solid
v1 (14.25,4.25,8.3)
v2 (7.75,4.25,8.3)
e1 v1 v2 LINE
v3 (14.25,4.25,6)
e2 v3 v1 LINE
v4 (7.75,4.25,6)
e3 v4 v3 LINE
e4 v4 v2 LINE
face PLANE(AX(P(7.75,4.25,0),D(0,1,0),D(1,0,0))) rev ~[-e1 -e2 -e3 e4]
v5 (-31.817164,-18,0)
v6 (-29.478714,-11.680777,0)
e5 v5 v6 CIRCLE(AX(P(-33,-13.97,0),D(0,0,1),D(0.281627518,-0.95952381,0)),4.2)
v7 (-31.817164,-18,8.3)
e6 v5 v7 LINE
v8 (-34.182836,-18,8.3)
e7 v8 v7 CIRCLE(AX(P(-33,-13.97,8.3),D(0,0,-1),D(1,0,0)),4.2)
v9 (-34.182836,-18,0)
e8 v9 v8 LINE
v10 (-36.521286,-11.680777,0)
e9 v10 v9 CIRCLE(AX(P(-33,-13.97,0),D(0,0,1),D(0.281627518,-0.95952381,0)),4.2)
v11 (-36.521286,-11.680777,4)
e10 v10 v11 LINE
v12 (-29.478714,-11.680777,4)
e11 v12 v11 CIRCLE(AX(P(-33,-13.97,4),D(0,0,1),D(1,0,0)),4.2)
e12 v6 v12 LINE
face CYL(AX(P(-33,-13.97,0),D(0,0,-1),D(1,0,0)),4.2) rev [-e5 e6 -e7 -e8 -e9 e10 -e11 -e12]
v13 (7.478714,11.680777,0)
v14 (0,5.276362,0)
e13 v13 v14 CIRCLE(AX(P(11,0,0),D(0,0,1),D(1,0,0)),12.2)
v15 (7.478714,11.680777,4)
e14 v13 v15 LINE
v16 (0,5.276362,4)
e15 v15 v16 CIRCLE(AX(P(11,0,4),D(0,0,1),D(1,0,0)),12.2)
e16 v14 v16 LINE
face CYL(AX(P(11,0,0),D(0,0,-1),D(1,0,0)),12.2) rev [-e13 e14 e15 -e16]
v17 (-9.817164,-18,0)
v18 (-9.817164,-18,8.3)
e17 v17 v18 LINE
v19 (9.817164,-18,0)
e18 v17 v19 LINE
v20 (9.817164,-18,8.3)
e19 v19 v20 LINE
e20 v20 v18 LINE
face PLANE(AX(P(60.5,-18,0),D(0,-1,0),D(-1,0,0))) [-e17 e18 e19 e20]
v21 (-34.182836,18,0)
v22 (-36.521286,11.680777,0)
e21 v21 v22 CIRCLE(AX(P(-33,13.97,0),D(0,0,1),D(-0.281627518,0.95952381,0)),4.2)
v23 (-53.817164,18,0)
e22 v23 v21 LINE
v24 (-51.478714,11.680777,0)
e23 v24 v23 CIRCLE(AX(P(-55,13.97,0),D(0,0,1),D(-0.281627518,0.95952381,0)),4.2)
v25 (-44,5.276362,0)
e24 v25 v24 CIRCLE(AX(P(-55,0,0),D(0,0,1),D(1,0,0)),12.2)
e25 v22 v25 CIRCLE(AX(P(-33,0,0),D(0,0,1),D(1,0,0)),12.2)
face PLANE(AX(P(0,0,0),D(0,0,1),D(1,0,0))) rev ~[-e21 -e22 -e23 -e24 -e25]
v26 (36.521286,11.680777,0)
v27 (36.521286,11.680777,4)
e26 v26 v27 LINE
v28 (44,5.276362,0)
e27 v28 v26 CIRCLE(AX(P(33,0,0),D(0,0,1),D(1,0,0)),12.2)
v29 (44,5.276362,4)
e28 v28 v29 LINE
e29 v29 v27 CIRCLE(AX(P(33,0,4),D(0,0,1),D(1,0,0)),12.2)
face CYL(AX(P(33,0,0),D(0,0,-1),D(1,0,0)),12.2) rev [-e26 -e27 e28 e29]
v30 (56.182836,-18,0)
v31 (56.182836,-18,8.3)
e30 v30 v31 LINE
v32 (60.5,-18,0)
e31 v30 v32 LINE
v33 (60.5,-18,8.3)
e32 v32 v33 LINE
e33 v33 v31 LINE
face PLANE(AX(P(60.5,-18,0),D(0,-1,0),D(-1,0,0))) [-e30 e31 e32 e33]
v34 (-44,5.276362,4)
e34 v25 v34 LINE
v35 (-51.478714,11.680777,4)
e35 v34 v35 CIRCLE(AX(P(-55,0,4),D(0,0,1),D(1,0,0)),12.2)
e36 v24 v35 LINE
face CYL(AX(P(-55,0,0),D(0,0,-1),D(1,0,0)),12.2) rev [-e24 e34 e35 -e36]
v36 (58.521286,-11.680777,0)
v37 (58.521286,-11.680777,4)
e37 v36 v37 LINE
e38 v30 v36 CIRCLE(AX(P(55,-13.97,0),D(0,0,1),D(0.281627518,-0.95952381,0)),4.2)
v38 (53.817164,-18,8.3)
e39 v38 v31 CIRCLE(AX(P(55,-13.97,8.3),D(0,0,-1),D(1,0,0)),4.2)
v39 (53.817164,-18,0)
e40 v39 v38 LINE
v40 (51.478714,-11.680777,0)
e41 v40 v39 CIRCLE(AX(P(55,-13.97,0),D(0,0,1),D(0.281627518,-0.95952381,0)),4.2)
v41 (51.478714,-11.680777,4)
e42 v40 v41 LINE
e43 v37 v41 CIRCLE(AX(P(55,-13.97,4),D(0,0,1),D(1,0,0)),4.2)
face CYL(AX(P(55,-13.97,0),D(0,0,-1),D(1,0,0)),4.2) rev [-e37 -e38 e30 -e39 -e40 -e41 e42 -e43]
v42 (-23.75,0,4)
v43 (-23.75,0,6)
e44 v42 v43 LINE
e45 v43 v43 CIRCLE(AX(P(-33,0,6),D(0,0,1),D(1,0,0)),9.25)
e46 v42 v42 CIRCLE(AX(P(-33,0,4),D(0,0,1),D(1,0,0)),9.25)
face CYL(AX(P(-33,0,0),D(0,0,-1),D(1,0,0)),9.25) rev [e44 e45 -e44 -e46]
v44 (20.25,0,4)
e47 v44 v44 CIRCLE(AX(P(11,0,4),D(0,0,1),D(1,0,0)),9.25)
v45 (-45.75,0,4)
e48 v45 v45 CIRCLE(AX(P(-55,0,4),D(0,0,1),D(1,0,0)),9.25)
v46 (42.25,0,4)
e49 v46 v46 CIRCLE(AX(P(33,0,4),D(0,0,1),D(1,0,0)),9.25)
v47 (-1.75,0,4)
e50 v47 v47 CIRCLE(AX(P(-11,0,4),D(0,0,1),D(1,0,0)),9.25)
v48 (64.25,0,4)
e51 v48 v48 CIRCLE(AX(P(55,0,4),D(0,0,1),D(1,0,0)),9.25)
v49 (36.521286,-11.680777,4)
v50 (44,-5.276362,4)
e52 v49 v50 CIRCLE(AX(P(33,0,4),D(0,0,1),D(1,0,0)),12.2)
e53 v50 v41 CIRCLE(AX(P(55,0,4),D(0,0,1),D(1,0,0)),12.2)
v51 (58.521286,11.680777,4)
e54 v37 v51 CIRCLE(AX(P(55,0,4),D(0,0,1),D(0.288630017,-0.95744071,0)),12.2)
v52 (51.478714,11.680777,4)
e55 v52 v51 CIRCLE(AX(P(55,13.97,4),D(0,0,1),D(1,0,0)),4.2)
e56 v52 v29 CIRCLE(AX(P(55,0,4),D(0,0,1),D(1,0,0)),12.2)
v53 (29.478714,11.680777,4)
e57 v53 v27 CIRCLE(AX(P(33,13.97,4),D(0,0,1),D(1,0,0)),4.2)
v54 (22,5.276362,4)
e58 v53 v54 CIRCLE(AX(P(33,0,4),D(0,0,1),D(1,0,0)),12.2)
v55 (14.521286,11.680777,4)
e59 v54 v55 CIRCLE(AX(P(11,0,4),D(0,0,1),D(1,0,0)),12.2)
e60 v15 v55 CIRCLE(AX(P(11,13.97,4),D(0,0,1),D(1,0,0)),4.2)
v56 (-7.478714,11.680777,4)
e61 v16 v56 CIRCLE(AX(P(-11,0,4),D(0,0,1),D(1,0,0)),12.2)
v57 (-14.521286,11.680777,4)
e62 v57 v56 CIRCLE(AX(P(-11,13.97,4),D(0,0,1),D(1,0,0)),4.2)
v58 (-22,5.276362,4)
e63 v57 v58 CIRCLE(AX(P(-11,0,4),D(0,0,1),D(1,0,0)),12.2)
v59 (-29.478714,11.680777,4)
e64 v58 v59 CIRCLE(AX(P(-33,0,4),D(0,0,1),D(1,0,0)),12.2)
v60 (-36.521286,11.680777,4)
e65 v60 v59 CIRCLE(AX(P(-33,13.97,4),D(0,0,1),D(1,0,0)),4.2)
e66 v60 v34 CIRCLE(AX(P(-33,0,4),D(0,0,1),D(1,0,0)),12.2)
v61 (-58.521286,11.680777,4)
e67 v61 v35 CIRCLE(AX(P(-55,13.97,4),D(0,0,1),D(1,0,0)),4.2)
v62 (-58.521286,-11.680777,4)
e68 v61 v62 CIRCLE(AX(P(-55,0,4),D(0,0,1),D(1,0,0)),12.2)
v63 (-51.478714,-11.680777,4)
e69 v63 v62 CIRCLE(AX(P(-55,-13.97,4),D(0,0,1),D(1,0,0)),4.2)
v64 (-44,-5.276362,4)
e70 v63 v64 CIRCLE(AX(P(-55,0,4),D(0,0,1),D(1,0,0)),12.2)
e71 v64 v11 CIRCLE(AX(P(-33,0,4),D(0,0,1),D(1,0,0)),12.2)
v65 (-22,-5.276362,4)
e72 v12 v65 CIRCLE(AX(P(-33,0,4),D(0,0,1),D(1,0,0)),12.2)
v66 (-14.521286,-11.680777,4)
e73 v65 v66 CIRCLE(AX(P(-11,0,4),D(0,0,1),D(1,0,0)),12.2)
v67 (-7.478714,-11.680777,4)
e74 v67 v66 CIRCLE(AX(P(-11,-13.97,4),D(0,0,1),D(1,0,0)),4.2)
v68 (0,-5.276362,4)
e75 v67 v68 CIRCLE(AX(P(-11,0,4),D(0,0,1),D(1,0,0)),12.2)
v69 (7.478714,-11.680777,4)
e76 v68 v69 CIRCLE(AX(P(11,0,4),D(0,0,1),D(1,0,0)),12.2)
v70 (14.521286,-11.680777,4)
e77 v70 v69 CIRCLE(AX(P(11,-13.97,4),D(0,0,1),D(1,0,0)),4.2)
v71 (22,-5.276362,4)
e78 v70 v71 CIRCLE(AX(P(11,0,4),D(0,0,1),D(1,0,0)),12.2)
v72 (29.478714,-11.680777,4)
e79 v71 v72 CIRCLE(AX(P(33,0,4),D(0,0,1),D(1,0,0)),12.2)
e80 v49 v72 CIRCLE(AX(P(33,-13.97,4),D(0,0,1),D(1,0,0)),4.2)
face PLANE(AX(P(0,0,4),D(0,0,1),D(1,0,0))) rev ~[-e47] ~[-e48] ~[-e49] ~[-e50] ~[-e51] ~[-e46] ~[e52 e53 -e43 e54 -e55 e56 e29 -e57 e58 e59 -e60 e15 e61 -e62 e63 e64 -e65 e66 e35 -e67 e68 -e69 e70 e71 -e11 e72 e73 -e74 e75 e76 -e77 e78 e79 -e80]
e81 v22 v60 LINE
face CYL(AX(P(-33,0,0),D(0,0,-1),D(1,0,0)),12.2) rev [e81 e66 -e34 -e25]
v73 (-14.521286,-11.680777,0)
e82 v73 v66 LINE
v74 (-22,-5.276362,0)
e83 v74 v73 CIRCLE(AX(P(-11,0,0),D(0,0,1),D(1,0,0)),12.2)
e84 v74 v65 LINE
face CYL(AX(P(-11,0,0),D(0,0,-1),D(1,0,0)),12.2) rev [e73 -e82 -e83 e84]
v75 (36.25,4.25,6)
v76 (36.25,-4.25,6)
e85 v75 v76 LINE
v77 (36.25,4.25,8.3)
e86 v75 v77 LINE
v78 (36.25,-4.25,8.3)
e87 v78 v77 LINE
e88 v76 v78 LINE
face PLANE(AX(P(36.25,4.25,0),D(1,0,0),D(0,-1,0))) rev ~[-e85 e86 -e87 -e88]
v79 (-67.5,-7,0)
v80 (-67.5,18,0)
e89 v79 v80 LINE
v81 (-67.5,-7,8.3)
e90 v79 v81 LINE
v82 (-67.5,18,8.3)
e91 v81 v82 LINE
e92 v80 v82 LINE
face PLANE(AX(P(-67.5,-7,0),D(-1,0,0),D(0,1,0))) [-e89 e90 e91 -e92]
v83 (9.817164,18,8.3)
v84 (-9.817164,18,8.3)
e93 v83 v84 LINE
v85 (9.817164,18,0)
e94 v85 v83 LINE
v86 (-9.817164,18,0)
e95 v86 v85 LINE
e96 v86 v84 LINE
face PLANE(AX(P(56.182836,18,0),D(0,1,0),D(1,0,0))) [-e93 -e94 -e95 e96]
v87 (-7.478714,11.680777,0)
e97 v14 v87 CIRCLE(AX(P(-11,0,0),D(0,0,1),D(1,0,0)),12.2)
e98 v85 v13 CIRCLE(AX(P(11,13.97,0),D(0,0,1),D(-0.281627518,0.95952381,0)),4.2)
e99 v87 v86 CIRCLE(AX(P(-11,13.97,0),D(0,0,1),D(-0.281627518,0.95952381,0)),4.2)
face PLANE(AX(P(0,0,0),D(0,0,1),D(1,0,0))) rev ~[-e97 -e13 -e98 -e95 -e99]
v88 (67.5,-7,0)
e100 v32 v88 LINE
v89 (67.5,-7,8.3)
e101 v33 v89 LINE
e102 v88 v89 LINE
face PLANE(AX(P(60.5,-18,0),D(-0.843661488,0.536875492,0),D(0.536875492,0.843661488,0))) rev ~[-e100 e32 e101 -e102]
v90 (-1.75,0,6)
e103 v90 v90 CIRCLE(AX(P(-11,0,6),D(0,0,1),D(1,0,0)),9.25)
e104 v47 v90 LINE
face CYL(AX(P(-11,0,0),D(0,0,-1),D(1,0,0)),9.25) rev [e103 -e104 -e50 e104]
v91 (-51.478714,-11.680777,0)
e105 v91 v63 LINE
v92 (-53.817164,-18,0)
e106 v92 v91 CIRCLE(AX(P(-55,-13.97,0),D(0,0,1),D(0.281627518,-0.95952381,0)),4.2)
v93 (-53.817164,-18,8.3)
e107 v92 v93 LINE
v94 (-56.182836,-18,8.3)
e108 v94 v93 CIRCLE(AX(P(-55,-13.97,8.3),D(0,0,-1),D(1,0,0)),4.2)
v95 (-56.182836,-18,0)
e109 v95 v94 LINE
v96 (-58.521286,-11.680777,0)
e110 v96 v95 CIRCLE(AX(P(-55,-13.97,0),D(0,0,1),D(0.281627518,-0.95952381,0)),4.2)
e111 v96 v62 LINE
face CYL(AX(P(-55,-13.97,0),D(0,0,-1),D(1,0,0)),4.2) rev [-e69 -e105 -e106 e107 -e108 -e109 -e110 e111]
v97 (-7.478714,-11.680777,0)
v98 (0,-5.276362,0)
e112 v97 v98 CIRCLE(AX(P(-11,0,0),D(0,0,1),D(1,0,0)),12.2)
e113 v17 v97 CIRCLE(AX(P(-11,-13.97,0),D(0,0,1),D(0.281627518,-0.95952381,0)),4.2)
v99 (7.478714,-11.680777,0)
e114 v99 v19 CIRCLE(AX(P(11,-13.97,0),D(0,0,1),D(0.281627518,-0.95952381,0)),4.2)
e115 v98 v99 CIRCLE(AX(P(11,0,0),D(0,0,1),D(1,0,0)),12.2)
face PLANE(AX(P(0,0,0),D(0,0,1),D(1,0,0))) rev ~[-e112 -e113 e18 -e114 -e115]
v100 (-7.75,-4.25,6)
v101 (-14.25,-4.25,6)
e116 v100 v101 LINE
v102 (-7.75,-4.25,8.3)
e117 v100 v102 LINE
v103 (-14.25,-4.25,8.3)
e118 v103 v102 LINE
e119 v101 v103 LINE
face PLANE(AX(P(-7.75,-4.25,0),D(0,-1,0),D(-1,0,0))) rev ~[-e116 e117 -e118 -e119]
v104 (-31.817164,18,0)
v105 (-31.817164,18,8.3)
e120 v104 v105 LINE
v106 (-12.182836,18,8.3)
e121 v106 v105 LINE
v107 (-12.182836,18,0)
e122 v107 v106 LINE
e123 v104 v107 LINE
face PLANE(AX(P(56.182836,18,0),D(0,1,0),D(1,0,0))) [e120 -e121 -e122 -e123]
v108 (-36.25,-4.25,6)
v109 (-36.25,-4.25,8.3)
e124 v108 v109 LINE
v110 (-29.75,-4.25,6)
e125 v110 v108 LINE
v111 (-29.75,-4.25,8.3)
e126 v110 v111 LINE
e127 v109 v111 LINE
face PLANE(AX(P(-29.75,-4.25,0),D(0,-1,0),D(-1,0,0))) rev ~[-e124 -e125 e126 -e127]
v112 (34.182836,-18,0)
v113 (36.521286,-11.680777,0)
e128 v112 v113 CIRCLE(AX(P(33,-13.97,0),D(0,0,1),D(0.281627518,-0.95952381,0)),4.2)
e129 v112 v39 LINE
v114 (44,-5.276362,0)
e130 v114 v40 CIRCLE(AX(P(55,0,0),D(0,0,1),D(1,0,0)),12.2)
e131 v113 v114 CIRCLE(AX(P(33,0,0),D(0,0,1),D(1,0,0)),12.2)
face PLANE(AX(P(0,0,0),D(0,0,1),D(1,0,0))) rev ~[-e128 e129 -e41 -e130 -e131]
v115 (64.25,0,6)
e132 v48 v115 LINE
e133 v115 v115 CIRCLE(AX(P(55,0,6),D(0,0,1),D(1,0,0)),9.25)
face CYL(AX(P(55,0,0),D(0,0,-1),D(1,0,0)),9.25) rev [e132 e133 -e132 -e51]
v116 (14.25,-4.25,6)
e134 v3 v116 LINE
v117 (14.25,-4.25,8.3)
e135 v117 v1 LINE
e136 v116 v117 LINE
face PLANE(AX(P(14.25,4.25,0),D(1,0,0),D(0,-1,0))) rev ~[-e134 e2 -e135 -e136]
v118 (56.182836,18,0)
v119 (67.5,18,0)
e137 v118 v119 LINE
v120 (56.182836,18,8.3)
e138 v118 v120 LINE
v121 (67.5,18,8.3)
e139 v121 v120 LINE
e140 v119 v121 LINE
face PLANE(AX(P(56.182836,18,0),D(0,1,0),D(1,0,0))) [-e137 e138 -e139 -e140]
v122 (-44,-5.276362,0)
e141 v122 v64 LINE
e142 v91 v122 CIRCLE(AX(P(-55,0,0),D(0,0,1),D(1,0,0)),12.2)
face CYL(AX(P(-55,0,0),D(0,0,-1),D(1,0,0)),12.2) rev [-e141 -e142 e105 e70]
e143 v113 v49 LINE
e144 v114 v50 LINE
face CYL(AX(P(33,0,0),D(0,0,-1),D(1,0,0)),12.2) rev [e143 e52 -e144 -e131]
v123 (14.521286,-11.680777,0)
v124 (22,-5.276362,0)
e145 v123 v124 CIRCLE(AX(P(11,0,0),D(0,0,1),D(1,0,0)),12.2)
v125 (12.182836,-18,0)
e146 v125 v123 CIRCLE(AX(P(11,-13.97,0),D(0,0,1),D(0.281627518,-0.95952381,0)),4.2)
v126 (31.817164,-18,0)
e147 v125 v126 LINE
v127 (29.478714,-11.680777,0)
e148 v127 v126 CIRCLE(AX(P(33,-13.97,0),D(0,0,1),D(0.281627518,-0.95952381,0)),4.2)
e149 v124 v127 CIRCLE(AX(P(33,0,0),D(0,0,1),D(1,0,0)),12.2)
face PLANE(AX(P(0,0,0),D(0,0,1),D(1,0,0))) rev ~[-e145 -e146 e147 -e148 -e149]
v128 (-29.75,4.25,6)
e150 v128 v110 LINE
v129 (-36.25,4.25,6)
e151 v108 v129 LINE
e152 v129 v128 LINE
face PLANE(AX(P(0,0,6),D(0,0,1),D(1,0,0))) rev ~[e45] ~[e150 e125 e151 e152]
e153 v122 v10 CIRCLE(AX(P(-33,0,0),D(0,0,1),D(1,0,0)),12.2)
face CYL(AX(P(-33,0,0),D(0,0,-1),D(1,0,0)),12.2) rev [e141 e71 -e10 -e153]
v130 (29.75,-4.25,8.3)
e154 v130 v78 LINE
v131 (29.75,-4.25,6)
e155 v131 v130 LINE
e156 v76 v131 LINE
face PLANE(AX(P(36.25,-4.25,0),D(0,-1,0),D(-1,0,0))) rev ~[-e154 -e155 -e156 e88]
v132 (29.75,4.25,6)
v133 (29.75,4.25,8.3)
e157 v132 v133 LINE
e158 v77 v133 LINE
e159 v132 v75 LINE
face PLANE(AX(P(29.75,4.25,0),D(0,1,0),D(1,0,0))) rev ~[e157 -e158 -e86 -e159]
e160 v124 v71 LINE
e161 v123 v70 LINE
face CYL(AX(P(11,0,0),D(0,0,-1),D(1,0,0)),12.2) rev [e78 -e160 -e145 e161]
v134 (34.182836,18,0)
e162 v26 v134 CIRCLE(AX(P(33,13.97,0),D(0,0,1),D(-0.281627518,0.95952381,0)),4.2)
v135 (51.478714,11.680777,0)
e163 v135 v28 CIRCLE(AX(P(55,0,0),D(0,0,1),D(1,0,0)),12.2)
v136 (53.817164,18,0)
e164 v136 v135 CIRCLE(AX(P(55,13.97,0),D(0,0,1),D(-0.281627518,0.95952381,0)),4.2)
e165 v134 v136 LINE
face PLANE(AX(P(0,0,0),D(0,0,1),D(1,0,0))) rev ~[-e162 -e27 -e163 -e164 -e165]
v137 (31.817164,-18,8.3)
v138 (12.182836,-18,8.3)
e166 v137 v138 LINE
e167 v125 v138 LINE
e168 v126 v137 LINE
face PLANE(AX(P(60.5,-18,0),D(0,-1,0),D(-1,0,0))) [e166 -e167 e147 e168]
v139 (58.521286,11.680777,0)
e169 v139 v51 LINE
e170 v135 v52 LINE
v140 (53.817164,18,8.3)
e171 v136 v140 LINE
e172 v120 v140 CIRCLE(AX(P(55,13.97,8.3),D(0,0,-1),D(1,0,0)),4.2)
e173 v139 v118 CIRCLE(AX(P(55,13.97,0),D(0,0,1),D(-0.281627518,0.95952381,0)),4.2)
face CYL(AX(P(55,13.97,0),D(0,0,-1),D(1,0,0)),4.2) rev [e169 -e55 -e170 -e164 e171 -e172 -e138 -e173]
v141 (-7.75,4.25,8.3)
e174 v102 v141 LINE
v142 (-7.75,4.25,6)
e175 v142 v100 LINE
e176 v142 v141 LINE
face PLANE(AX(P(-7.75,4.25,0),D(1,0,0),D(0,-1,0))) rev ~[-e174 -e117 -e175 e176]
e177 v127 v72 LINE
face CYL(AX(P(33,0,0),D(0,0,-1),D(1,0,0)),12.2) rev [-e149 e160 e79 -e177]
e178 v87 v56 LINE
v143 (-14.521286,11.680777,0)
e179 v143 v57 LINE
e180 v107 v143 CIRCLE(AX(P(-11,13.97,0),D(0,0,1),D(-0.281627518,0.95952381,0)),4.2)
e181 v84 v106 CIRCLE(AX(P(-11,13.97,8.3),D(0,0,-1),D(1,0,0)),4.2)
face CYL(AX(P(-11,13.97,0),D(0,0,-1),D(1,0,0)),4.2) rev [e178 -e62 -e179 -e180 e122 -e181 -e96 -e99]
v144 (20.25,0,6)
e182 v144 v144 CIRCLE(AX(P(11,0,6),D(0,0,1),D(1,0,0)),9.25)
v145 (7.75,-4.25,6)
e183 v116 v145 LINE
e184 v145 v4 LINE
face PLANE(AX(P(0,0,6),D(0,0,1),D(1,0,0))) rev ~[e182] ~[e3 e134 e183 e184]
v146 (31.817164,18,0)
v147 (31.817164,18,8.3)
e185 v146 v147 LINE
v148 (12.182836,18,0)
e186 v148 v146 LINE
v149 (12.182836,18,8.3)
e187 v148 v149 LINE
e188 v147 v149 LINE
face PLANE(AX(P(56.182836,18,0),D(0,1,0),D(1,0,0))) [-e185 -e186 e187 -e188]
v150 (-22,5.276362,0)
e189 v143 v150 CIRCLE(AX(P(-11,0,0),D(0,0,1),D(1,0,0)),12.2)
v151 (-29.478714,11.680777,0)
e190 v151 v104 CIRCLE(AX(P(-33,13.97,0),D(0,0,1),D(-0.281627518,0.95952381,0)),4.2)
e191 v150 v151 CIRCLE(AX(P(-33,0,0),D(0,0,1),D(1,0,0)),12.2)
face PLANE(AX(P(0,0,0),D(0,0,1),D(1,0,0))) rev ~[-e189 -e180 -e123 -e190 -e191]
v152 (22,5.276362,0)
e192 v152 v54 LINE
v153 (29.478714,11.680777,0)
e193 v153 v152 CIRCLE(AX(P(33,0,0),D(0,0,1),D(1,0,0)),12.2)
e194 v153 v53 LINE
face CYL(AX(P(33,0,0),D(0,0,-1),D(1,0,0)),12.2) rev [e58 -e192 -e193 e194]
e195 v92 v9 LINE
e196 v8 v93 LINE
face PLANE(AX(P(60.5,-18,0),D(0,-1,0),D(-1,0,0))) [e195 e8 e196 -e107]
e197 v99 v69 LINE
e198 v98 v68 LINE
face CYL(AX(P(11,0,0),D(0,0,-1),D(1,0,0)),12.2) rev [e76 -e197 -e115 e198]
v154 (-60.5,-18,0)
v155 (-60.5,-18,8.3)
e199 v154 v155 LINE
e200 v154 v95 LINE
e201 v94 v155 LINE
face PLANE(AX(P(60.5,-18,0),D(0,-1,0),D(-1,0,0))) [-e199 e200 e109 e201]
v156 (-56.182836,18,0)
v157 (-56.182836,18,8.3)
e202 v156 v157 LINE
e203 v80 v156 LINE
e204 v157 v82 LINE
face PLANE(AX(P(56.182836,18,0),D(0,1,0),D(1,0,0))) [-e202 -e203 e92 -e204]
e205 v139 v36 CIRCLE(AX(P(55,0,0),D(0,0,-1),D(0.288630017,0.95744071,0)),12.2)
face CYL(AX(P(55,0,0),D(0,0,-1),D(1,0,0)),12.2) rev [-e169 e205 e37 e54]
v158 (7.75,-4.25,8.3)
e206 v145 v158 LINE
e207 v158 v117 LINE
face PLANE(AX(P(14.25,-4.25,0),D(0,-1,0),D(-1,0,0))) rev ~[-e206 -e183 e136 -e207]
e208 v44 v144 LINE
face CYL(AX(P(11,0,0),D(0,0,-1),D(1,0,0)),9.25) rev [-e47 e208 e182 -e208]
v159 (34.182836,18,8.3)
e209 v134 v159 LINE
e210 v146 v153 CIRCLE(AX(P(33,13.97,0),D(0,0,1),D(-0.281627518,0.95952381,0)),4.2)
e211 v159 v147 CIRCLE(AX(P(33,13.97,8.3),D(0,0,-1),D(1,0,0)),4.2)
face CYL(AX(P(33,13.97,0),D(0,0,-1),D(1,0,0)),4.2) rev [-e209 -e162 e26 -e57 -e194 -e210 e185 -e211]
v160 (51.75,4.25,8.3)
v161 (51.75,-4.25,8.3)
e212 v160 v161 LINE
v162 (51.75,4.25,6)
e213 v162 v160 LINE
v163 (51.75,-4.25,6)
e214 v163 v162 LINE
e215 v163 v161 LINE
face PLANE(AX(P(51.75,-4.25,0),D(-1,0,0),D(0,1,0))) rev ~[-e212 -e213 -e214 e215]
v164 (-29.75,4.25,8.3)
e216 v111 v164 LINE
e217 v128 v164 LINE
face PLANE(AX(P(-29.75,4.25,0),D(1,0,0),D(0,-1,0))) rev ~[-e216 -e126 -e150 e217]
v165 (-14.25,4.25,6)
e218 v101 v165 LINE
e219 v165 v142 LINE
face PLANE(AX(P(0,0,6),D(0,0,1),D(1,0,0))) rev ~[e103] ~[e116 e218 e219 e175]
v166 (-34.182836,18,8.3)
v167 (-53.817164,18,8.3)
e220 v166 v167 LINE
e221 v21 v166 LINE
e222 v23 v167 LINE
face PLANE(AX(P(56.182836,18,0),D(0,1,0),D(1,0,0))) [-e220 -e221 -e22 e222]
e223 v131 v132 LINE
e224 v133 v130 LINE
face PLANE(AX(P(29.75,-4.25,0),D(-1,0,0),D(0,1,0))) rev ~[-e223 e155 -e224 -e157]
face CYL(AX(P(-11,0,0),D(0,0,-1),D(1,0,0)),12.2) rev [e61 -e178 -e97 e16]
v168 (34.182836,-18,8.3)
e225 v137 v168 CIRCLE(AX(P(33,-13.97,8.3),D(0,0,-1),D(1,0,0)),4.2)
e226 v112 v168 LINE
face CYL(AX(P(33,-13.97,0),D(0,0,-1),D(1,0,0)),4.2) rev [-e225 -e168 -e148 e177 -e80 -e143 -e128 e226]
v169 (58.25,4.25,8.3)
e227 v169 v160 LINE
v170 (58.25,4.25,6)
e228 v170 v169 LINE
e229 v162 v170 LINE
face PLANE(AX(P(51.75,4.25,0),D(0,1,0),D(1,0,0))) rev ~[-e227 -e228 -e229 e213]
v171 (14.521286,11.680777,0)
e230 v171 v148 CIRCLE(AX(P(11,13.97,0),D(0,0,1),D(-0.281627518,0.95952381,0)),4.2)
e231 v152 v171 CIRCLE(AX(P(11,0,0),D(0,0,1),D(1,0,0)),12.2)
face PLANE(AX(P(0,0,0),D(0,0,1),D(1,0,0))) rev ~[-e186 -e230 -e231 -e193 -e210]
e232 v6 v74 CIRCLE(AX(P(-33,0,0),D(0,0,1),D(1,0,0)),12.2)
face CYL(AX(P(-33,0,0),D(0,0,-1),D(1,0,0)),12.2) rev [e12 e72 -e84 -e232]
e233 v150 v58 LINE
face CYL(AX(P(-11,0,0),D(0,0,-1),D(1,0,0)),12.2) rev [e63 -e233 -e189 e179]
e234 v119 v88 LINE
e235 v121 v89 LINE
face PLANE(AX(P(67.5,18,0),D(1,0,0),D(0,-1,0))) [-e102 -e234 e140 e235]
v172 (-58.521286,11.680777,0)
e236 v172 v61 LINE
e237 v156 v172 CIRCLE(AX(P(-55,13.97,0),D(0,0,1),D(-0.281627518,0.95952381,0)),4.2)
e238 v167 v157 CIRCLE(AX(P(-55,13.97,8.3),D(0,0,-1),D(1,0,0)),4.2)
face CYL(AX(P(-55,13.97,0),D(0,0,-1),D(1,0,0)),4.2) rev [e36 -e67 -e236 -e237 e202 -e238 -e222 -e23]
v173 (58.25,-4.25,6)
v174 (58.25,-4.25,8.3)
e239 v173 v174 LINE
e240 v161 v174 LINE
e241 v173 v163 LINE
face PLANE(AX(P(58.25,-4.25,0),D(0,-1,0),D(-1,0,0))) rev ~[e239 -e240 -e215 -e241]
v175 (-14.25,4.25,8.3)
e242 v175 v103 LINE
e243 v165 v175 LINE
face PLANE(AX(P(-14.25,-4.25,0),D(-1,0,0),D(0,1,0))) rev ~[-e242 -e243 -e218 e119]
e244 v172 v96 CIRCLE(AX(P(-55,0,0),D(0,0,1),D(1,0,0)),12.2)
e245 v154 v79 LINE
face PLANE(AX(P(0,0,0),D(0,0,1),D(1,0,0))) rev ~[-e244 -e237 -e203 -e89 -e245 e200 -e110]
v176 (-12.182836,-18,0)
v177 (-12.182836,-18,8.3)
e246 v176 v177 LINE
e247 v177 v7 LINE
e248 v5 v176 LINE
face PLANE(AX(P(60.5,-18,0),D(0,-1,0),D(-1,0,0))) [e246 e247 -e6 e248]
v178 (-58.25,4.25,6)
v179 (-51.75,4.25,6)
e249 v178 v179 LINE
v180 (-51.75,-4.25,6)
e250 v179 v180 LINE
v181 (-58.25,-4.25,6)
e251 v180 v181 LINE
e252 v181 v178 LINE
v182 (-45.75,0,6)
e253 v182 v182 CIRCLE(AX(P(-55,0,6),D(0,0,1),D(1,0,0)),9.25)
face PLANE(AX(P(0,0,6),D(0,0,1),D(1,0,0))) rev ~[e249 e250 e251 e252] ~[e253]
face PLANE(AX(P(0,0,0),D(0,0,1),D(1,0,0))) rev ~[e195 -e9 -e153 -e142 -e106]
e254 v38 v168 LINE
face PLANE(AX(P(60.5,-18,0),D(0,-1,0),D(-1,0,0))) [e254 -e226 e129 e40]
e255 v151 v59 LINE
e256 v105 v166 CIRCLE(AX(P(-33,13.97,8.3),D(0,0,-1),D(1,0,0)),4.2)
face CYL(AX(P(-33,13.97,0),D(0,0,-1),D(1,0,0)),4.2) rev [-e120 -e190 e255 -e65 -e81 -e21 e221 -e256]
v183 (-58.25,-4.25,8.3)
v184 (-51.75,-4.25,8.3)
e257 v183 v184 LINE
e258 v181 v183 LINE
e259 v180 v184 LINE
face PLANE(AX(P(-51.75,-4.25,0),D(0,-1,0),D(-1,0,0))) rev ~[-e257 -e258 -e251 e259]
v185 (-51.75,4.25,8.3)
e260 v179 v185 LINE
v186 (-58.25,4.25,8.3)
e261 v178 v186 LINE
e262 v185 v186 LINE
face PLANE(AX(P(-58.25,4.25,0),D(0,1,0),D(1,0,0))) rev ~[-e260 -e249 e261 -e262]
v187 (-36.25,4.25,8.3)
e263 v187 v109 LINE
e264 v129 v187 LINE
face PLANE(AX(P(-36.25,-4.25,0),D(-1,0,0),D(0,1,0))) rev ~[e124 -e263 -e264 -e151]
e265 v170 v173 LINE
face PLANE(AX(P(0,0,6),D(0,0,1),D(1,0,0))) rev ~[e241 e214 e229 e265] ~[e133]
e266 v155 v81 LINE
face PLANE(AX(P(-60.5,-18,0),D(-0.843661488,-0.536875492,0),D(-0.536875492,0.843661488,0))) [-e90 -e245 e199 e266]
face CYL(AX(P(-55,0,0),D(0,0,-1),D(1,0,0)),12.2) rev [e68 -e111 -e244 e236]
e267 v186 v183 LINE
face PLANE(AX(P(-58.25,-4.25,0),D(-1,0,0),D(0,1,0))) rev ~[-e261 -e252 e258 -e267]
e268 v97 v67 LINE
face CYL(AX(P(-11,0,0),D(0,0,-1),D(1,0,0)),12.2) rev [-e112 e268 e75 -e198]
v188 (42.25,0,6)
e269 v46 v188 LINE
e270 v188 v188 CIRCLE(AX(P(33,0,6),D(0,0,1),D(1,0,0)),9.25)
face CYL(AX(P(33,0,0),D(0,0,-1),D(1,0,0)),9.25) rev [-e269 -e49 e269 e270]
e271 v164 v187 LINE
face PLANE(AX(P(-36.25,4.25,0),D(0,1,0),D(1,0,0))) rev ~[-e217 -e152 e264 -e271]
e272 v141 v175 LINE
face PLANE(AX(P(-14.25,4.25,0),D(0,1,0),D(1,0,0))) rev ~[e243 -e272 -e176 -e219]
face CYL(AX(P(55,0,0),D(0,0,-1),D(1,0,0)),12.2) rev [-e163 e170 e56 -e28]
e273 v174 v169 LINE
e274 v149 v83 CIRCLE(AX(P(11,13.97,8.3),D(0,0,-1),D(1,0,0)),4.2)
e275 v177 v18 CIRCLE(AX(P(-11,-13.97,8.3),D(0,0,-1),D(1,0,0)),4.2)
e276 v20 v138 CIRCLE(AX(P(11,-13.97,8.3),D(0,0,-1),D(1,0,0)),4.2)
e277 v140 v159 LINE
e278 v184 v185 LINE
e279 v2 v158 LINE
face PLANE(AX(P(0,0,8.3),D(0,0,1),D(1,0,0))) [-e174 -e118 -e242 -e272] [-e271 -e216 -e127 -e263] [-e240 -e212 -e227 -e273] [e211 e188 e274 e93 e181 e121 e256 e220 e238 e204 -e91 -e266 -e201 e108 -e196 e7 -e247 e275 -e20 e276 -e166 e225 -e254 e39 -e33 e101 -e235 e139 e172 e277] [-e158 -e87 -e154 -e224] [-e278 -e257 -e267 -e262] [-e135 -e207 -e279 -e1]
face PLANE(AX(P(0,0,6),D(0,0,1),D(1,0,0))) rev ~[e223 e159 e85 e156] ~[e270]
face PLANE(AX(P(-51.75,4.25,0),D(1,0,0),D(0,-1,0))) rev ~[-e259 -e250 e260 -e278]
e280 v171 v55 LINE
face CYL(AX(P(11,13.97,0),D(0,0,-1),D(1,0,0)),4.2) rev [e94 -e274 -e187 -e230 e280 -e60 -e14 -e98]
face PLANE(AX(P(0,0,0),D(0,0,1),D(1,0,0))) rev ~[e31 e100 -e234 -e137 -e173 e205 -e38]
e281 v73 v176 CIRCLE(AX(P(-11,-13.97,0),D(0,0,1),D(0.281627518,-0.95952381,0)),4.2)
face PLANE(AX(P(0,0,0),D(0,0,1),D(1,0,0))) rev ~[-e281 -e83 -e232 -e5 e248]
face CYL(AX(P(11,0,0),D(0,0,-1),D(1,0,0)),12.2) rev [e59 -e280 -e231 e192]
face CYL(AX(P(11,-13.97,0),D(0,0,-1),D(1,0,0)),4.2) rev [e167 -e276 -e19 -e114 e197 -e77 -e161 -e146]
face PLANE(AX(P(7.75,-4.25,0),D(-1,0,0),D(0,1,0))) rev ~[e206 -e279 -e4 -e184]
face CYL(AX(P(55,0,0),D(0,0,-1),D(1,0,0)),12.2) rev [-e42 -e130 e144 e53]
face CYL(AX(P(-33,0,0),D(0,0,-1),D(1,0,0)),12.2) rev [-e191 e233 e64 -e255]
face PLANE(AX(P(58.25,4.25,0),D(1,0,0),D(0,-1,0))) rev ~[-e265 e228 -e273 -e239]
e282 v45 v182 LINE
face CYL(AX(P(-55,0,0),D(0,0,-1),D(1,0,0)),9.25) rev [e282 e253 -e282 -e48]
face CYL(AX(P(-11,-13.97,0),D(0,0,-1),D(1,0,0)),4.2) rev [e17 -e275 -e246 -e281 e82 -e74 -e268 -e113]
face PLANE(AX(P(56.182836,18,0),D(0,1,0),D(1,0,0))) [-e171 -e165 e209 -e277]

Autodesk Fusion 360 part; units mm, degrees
sketch "Skizze1" plane through (0, 0, 0) normal (0, 0, 1) x (1, 0, 0)
  line L0 (67.5, -18) -> (-67.5, -18)
  line L1 (-67.5, -18) -> (-67.5, 18)
  line L2 (-67.5, 18) -> (67.5, 18)
  line L3 (67.5, 18) -> (67.5, -18)
  line L4 (67.5, -18) -> (-67.5, 18) construction
  line L5 (-67.5, -18) -> (67.5, 18) construction
  line L6 (-73.8697, 0) -> (79.3057, 0) construction
  line L7 (-75.373, 13.97) -> (76.9673, 13.97) construction
  line L8 (-75.54, -13.97) -> (74.2946, -13.97) construction
  line L9 (-11, 24.3178) -> (-11, -28.2997) construction
  line L10 (-33, 24.986) -> (-33, -31.4735) construction
  line L11 (-55, 24.4848) -> (-55, -28.1327) construction
  line L12 (11, 24.8189) -> (11, -31.4735) construction
  line L13 (33, 24.6519) -> (33, -30) construction
  line L14 (55, 24.8189) -> (55, -30) construction
  circle A0 centre (-55, 0) radius 12.2
  circle A1 centre (-33, 0) radius 12.2
  circle A2 centre (-11, 0) radius 12.2
  circle A3 centre (11, 0) radius 12.2
  circle A4 centre (33, 0) radius 12.2
  circle A5 centre (55, 0) radius 12.2
  circle A6 centre (-55, 13.97) radius 4.2
  circle A7 centre (-33, 13.97) radius 4.2
  circle A8 centre (-11, 13.97) radius 4.2
  circle A9 centre (11, 13.97) radius 4.2
  circle A10 centre (33, 13.97) radius 4.2
  circle A11 centre (55, 13.97) radius 4.2
  circle A12 centre (-55, -13.97) radius 4.2
  circle A13 centre (-33, -13.97) radius 4.2
  circle A14 centre (-11, -13.97) radius 4.2
  circle A15 centre (11, -13.97) radius 4.2
  circle A16 centre (33, -13.97) radius 4.2
  circle A17 centre (55, -13.97) radius 4.2
  circle A18 centre (-55, 0) radius 9.25
  circle A19 centre (-33, 0) radius 9.25
  circle A20 centre (-11, 0) radius 9.25
  circle A21 centre (11, 0) radius 9.25
  circle A22 centre (33, 0) radius 9.25
  circle A23 centre (55, 0) radius 9.25
  line L15 (-51.75, -4.25) -> (-58.25, -4.25)
  line L16 (-58.25, -4.25) -> (-58.25, 4.25)
  line L17 (-58.25, 4.25) -> (-51.75, 4.25)
  line L18 (-51.75, 4.25) -> (-51.75, -4.25)
  line L19 (-51.75, -4.25) -> (-58.25, 4.25) construction
  line L20 (-58.25, -4.25) -> (-51.75, 4.25) construction
  line L21 (-29.75, -4.25) -> (-36.25, -4.25)
  line L22 (-36.25, -4.25) -> (-36.25, 4.25)
  line L23 (-36.25, 4.25) -> (-29.75, 4.25)
  line L24 (-29.75, 4.25) -> (-29.75, -4.25)
  line L25 (-29.75, -4.25) -> (-36.25, 4.25) construction
  line L26 (-36.25, -4.25) -> (-29.75, 4.25) construction
  line L27 (-7.75, -4.25) -> (-14.25, -4.25)
  line L28 (-14.25, -4.25) -> (-14.25, 4.25)
  line L29 (-14.25, 4.25) -> (-7.75, 4.25)
  line L30 (-7.75, 4.25) -> (-7.75, -4.25)
  line L31 (-7.75, -4.25) -> (-14.25, 4.25) construction
  line L32 (-14.25, -4.25) -> (-7.75, 4.25) construction
  line L33 (14.25, -4.25) -> (7.75, -4.25)
  line L34 (7.75, -4.25) -> (7.75, 4.25)
  line L35 (7.75, 4.25) -> (14.25, 4.25)
  line L36 (14.25, 4.25) -> (14.25, -4.25)
  line L37 (14.25, -4.25) -> (7.75, 4.25) construction
  line L38 (7.75, -4.25) -> (14.25, 4.25) construction
  line L39 (36.25, -4.25) -> (29.75, -4.25)
  line L40 (29.75, -4.25) -> (29.75, 4.25)
  line L41 (29.75, 4.25) -> (36.25, 4.25)
  line L42 (36.25, 4.25) -> (36.25, -4.25)
  line L43 (36.25, -4.25) -> (29.75, 4.25) construction
  line L44 (29.75, -4.25) -> (36.25, 4.25) construction
  line L45 (58.25, -4.25) -> (51.75, -4.25)
  line L46 (51.75, -4.25) -> (51.75, 4.25)
  line L47 (51.75, 4.25) -> (58.25, 4.25)
  line L48 (58.25, 4.25) -> (58.25, -4.25)
  line L49 (58.25, -4.25) -> (51.75, 4.25) construction
  line L50 (51.75, -4.25) -> (58.25, 4.25) construction
  line L51 (-60.5, 33.1976) -> (-60.5, -30) construction
  line L52 (-89, -7) -> (78, -7) construction
  line L53 (-60.5, -18) -> (-67.5, -7)
  line L54 (60.5, 21.7982) -> (60.5, -34.2962) construction
  line L55 (60.5, -18) -> (67.5, -7)
  point P0 (-55, 0)
  point P1 (-33, 0)
  point P2 (-11, 0)
  point P3 (11, 0)
  point P4 (33, 0)
  point P5 (55, 0)
  dimension "d1" = 135
  dimension "d2" = 36
  dimension "d3" = 13.97
  dimension "d4" = 13.97
  dimension "d5" = 11
  dimension "d6" = 11
  dimension "d7" = 22
  dimension "d8" = 22
  dimension "d9" = 22
  dimension "d10" = 22
  dimension "d11" = 24.4
  dimension "d12" = 24.4
  dimension "d13" = 24.4
  dimension "d14" = 24.4
  dimension "d15" = 24.4
  dimension "d16" = 24.4
  dimension "d17" = 8.4
  dimension "d18" = 8.4
  dimension "d19" = 8.4
  dimension "d20" = 8.4
  dimension "d21" = 8.4
  dimension "d22" = 8.4
  dimension "d23" = 8.4
  dimension "d24" = 8.4
  dimension "d25" = 8.4
  dimension "d26" = 8.4
  dimension "d27" = 8.4
  dimension "d28" = 8.4
  dimension "d29" = 18.5
  dimension "d30" = 18.5
  dimension "d31" = 18.5
  dimension "d32" = 18.5
  dimension "d33" = 18.5
  dimension "d34" = 18.5
  dimension "d35" = 6.5
  dimension "d36" = 6.5
  dimension "d37" = 6.5
  dimension "d38" = 6.5
  dimension "d39" = 6.5
  dimension "d40" = 6.5
  dimension "d41" = 8.5
  dimension "d42" = 8.5
  dimension "d43" = 8.5
  dimension "d44" = 8.5
  dimension "d45" = 8.5
  dimension "d46" = 8.5
  dimension "d59" = 7
  dimension "d60" = 25
  dimension "d61" = 7
  dimension "d62" = 12.5
  dimension "d63" = 18
extrude "Extrusion2" add sketch "Skizze1" along normal blind 8.3 contours L0 L2 L3 A5 A11 A17 L55 | L0 A5 A17 | L0 A4 A5 A16 A17 | L2 A5 A11 | L0 A4 A16 | A5 A17 | A4 A5 A11 A17 | L2 A4 A5 A10 A11 | L0 A3 A4 A15 A16 | A4 A5 | A3 A4 A5 A10 A16 | L2 A4 A10 | A5 A11 | L0 A3 A15 | A4 A16 | L2 A3 A4 A9 A10 | L0 A2 A3 A14 A15 | A3 A4 | A2 A3 A4 A9 A15 | A4 A10 | L2 A3 A9 | L0 A2 A14 | A3 A15 | L2 A2 A3 A8 A9 | L0 A1 A2 A13 A14 | A2 A3 | A1 A2 A3 A8 A14 | A3 A9 | L2 A2 A8 | L0 A1 A13 | A2 A14 | L2 A1 A2 A7 A8 | L0 A0 A1 A12 A13 | A1 A2 | A0 A1 A2 A7 A13 | A2 A8 | L2 A1 A7 | L0 A0 A12 | A1 A13 | L2 A0 A1 A6 A7 | L0 L1 L2 A0 A6 A12 L53 | A0 A1 | A0 A1 A6 A12 | A1 A7 | L2 A0 A6 | A0 A12 | A0 A6 | A18 | A19 | A20 | A21 | A22 | A23 | L15 L16 L17 L18 | L21 L22 L23 L24 | L27 L28 L29 L30 | L33 L34 L35 L36 | L39 L40 L41 L42 | L45 L46 L47 L48
extrude "Extrusion3" cut sketch "Skizze1" along normal blind 9 contours L0 A5 A17 | L2 A5 A11 | L0 A4 A16 | A5 A17 | L2 A4 A10 | A5 A11 | L0 A3 A15 | A4 A16 | A4 A10 | L2 A3 A9 | L0 A2 A14 | A3 A15 | A3 A9 | L2 A2 A8 | L0 A1 A13 | A2 A14 | A2 A8 | L2 A1 A7 | L0 A0 A12 | A1 A13 | A1 A7 | L2 A0 A6 | A0 A12 | A0 A6
extrude "Extrusion4" cut sketch "Skizze1" along normal blind 4 contours A4 A5 A11 A17 | A4 A5 | A3 A4 A5 A10 A16 | A3 A4 | A2 A3 A4 A9 A15 | A2 A3 | A1 A2 A3 A8 A14 | A1 A2 | A0 A1 A2 A7 A13 | A0 A1 | A0 A1 A6 A12
extrude "Extrusion5" cut sketch "Skizze1" along normal blind 6 contours A18 | A19 | A20 | A21 | A22 | A23
extrude "Extrusion6" cut sketch "Skizze1" along normal blind 9 contours L15 L16 L17 L18 | L21 L22 L23 L24 | L27 L28 L29 L30 | L33 L34 L35 L36 | L39 L40 L41 L42 | L45 L46 L47 L48
